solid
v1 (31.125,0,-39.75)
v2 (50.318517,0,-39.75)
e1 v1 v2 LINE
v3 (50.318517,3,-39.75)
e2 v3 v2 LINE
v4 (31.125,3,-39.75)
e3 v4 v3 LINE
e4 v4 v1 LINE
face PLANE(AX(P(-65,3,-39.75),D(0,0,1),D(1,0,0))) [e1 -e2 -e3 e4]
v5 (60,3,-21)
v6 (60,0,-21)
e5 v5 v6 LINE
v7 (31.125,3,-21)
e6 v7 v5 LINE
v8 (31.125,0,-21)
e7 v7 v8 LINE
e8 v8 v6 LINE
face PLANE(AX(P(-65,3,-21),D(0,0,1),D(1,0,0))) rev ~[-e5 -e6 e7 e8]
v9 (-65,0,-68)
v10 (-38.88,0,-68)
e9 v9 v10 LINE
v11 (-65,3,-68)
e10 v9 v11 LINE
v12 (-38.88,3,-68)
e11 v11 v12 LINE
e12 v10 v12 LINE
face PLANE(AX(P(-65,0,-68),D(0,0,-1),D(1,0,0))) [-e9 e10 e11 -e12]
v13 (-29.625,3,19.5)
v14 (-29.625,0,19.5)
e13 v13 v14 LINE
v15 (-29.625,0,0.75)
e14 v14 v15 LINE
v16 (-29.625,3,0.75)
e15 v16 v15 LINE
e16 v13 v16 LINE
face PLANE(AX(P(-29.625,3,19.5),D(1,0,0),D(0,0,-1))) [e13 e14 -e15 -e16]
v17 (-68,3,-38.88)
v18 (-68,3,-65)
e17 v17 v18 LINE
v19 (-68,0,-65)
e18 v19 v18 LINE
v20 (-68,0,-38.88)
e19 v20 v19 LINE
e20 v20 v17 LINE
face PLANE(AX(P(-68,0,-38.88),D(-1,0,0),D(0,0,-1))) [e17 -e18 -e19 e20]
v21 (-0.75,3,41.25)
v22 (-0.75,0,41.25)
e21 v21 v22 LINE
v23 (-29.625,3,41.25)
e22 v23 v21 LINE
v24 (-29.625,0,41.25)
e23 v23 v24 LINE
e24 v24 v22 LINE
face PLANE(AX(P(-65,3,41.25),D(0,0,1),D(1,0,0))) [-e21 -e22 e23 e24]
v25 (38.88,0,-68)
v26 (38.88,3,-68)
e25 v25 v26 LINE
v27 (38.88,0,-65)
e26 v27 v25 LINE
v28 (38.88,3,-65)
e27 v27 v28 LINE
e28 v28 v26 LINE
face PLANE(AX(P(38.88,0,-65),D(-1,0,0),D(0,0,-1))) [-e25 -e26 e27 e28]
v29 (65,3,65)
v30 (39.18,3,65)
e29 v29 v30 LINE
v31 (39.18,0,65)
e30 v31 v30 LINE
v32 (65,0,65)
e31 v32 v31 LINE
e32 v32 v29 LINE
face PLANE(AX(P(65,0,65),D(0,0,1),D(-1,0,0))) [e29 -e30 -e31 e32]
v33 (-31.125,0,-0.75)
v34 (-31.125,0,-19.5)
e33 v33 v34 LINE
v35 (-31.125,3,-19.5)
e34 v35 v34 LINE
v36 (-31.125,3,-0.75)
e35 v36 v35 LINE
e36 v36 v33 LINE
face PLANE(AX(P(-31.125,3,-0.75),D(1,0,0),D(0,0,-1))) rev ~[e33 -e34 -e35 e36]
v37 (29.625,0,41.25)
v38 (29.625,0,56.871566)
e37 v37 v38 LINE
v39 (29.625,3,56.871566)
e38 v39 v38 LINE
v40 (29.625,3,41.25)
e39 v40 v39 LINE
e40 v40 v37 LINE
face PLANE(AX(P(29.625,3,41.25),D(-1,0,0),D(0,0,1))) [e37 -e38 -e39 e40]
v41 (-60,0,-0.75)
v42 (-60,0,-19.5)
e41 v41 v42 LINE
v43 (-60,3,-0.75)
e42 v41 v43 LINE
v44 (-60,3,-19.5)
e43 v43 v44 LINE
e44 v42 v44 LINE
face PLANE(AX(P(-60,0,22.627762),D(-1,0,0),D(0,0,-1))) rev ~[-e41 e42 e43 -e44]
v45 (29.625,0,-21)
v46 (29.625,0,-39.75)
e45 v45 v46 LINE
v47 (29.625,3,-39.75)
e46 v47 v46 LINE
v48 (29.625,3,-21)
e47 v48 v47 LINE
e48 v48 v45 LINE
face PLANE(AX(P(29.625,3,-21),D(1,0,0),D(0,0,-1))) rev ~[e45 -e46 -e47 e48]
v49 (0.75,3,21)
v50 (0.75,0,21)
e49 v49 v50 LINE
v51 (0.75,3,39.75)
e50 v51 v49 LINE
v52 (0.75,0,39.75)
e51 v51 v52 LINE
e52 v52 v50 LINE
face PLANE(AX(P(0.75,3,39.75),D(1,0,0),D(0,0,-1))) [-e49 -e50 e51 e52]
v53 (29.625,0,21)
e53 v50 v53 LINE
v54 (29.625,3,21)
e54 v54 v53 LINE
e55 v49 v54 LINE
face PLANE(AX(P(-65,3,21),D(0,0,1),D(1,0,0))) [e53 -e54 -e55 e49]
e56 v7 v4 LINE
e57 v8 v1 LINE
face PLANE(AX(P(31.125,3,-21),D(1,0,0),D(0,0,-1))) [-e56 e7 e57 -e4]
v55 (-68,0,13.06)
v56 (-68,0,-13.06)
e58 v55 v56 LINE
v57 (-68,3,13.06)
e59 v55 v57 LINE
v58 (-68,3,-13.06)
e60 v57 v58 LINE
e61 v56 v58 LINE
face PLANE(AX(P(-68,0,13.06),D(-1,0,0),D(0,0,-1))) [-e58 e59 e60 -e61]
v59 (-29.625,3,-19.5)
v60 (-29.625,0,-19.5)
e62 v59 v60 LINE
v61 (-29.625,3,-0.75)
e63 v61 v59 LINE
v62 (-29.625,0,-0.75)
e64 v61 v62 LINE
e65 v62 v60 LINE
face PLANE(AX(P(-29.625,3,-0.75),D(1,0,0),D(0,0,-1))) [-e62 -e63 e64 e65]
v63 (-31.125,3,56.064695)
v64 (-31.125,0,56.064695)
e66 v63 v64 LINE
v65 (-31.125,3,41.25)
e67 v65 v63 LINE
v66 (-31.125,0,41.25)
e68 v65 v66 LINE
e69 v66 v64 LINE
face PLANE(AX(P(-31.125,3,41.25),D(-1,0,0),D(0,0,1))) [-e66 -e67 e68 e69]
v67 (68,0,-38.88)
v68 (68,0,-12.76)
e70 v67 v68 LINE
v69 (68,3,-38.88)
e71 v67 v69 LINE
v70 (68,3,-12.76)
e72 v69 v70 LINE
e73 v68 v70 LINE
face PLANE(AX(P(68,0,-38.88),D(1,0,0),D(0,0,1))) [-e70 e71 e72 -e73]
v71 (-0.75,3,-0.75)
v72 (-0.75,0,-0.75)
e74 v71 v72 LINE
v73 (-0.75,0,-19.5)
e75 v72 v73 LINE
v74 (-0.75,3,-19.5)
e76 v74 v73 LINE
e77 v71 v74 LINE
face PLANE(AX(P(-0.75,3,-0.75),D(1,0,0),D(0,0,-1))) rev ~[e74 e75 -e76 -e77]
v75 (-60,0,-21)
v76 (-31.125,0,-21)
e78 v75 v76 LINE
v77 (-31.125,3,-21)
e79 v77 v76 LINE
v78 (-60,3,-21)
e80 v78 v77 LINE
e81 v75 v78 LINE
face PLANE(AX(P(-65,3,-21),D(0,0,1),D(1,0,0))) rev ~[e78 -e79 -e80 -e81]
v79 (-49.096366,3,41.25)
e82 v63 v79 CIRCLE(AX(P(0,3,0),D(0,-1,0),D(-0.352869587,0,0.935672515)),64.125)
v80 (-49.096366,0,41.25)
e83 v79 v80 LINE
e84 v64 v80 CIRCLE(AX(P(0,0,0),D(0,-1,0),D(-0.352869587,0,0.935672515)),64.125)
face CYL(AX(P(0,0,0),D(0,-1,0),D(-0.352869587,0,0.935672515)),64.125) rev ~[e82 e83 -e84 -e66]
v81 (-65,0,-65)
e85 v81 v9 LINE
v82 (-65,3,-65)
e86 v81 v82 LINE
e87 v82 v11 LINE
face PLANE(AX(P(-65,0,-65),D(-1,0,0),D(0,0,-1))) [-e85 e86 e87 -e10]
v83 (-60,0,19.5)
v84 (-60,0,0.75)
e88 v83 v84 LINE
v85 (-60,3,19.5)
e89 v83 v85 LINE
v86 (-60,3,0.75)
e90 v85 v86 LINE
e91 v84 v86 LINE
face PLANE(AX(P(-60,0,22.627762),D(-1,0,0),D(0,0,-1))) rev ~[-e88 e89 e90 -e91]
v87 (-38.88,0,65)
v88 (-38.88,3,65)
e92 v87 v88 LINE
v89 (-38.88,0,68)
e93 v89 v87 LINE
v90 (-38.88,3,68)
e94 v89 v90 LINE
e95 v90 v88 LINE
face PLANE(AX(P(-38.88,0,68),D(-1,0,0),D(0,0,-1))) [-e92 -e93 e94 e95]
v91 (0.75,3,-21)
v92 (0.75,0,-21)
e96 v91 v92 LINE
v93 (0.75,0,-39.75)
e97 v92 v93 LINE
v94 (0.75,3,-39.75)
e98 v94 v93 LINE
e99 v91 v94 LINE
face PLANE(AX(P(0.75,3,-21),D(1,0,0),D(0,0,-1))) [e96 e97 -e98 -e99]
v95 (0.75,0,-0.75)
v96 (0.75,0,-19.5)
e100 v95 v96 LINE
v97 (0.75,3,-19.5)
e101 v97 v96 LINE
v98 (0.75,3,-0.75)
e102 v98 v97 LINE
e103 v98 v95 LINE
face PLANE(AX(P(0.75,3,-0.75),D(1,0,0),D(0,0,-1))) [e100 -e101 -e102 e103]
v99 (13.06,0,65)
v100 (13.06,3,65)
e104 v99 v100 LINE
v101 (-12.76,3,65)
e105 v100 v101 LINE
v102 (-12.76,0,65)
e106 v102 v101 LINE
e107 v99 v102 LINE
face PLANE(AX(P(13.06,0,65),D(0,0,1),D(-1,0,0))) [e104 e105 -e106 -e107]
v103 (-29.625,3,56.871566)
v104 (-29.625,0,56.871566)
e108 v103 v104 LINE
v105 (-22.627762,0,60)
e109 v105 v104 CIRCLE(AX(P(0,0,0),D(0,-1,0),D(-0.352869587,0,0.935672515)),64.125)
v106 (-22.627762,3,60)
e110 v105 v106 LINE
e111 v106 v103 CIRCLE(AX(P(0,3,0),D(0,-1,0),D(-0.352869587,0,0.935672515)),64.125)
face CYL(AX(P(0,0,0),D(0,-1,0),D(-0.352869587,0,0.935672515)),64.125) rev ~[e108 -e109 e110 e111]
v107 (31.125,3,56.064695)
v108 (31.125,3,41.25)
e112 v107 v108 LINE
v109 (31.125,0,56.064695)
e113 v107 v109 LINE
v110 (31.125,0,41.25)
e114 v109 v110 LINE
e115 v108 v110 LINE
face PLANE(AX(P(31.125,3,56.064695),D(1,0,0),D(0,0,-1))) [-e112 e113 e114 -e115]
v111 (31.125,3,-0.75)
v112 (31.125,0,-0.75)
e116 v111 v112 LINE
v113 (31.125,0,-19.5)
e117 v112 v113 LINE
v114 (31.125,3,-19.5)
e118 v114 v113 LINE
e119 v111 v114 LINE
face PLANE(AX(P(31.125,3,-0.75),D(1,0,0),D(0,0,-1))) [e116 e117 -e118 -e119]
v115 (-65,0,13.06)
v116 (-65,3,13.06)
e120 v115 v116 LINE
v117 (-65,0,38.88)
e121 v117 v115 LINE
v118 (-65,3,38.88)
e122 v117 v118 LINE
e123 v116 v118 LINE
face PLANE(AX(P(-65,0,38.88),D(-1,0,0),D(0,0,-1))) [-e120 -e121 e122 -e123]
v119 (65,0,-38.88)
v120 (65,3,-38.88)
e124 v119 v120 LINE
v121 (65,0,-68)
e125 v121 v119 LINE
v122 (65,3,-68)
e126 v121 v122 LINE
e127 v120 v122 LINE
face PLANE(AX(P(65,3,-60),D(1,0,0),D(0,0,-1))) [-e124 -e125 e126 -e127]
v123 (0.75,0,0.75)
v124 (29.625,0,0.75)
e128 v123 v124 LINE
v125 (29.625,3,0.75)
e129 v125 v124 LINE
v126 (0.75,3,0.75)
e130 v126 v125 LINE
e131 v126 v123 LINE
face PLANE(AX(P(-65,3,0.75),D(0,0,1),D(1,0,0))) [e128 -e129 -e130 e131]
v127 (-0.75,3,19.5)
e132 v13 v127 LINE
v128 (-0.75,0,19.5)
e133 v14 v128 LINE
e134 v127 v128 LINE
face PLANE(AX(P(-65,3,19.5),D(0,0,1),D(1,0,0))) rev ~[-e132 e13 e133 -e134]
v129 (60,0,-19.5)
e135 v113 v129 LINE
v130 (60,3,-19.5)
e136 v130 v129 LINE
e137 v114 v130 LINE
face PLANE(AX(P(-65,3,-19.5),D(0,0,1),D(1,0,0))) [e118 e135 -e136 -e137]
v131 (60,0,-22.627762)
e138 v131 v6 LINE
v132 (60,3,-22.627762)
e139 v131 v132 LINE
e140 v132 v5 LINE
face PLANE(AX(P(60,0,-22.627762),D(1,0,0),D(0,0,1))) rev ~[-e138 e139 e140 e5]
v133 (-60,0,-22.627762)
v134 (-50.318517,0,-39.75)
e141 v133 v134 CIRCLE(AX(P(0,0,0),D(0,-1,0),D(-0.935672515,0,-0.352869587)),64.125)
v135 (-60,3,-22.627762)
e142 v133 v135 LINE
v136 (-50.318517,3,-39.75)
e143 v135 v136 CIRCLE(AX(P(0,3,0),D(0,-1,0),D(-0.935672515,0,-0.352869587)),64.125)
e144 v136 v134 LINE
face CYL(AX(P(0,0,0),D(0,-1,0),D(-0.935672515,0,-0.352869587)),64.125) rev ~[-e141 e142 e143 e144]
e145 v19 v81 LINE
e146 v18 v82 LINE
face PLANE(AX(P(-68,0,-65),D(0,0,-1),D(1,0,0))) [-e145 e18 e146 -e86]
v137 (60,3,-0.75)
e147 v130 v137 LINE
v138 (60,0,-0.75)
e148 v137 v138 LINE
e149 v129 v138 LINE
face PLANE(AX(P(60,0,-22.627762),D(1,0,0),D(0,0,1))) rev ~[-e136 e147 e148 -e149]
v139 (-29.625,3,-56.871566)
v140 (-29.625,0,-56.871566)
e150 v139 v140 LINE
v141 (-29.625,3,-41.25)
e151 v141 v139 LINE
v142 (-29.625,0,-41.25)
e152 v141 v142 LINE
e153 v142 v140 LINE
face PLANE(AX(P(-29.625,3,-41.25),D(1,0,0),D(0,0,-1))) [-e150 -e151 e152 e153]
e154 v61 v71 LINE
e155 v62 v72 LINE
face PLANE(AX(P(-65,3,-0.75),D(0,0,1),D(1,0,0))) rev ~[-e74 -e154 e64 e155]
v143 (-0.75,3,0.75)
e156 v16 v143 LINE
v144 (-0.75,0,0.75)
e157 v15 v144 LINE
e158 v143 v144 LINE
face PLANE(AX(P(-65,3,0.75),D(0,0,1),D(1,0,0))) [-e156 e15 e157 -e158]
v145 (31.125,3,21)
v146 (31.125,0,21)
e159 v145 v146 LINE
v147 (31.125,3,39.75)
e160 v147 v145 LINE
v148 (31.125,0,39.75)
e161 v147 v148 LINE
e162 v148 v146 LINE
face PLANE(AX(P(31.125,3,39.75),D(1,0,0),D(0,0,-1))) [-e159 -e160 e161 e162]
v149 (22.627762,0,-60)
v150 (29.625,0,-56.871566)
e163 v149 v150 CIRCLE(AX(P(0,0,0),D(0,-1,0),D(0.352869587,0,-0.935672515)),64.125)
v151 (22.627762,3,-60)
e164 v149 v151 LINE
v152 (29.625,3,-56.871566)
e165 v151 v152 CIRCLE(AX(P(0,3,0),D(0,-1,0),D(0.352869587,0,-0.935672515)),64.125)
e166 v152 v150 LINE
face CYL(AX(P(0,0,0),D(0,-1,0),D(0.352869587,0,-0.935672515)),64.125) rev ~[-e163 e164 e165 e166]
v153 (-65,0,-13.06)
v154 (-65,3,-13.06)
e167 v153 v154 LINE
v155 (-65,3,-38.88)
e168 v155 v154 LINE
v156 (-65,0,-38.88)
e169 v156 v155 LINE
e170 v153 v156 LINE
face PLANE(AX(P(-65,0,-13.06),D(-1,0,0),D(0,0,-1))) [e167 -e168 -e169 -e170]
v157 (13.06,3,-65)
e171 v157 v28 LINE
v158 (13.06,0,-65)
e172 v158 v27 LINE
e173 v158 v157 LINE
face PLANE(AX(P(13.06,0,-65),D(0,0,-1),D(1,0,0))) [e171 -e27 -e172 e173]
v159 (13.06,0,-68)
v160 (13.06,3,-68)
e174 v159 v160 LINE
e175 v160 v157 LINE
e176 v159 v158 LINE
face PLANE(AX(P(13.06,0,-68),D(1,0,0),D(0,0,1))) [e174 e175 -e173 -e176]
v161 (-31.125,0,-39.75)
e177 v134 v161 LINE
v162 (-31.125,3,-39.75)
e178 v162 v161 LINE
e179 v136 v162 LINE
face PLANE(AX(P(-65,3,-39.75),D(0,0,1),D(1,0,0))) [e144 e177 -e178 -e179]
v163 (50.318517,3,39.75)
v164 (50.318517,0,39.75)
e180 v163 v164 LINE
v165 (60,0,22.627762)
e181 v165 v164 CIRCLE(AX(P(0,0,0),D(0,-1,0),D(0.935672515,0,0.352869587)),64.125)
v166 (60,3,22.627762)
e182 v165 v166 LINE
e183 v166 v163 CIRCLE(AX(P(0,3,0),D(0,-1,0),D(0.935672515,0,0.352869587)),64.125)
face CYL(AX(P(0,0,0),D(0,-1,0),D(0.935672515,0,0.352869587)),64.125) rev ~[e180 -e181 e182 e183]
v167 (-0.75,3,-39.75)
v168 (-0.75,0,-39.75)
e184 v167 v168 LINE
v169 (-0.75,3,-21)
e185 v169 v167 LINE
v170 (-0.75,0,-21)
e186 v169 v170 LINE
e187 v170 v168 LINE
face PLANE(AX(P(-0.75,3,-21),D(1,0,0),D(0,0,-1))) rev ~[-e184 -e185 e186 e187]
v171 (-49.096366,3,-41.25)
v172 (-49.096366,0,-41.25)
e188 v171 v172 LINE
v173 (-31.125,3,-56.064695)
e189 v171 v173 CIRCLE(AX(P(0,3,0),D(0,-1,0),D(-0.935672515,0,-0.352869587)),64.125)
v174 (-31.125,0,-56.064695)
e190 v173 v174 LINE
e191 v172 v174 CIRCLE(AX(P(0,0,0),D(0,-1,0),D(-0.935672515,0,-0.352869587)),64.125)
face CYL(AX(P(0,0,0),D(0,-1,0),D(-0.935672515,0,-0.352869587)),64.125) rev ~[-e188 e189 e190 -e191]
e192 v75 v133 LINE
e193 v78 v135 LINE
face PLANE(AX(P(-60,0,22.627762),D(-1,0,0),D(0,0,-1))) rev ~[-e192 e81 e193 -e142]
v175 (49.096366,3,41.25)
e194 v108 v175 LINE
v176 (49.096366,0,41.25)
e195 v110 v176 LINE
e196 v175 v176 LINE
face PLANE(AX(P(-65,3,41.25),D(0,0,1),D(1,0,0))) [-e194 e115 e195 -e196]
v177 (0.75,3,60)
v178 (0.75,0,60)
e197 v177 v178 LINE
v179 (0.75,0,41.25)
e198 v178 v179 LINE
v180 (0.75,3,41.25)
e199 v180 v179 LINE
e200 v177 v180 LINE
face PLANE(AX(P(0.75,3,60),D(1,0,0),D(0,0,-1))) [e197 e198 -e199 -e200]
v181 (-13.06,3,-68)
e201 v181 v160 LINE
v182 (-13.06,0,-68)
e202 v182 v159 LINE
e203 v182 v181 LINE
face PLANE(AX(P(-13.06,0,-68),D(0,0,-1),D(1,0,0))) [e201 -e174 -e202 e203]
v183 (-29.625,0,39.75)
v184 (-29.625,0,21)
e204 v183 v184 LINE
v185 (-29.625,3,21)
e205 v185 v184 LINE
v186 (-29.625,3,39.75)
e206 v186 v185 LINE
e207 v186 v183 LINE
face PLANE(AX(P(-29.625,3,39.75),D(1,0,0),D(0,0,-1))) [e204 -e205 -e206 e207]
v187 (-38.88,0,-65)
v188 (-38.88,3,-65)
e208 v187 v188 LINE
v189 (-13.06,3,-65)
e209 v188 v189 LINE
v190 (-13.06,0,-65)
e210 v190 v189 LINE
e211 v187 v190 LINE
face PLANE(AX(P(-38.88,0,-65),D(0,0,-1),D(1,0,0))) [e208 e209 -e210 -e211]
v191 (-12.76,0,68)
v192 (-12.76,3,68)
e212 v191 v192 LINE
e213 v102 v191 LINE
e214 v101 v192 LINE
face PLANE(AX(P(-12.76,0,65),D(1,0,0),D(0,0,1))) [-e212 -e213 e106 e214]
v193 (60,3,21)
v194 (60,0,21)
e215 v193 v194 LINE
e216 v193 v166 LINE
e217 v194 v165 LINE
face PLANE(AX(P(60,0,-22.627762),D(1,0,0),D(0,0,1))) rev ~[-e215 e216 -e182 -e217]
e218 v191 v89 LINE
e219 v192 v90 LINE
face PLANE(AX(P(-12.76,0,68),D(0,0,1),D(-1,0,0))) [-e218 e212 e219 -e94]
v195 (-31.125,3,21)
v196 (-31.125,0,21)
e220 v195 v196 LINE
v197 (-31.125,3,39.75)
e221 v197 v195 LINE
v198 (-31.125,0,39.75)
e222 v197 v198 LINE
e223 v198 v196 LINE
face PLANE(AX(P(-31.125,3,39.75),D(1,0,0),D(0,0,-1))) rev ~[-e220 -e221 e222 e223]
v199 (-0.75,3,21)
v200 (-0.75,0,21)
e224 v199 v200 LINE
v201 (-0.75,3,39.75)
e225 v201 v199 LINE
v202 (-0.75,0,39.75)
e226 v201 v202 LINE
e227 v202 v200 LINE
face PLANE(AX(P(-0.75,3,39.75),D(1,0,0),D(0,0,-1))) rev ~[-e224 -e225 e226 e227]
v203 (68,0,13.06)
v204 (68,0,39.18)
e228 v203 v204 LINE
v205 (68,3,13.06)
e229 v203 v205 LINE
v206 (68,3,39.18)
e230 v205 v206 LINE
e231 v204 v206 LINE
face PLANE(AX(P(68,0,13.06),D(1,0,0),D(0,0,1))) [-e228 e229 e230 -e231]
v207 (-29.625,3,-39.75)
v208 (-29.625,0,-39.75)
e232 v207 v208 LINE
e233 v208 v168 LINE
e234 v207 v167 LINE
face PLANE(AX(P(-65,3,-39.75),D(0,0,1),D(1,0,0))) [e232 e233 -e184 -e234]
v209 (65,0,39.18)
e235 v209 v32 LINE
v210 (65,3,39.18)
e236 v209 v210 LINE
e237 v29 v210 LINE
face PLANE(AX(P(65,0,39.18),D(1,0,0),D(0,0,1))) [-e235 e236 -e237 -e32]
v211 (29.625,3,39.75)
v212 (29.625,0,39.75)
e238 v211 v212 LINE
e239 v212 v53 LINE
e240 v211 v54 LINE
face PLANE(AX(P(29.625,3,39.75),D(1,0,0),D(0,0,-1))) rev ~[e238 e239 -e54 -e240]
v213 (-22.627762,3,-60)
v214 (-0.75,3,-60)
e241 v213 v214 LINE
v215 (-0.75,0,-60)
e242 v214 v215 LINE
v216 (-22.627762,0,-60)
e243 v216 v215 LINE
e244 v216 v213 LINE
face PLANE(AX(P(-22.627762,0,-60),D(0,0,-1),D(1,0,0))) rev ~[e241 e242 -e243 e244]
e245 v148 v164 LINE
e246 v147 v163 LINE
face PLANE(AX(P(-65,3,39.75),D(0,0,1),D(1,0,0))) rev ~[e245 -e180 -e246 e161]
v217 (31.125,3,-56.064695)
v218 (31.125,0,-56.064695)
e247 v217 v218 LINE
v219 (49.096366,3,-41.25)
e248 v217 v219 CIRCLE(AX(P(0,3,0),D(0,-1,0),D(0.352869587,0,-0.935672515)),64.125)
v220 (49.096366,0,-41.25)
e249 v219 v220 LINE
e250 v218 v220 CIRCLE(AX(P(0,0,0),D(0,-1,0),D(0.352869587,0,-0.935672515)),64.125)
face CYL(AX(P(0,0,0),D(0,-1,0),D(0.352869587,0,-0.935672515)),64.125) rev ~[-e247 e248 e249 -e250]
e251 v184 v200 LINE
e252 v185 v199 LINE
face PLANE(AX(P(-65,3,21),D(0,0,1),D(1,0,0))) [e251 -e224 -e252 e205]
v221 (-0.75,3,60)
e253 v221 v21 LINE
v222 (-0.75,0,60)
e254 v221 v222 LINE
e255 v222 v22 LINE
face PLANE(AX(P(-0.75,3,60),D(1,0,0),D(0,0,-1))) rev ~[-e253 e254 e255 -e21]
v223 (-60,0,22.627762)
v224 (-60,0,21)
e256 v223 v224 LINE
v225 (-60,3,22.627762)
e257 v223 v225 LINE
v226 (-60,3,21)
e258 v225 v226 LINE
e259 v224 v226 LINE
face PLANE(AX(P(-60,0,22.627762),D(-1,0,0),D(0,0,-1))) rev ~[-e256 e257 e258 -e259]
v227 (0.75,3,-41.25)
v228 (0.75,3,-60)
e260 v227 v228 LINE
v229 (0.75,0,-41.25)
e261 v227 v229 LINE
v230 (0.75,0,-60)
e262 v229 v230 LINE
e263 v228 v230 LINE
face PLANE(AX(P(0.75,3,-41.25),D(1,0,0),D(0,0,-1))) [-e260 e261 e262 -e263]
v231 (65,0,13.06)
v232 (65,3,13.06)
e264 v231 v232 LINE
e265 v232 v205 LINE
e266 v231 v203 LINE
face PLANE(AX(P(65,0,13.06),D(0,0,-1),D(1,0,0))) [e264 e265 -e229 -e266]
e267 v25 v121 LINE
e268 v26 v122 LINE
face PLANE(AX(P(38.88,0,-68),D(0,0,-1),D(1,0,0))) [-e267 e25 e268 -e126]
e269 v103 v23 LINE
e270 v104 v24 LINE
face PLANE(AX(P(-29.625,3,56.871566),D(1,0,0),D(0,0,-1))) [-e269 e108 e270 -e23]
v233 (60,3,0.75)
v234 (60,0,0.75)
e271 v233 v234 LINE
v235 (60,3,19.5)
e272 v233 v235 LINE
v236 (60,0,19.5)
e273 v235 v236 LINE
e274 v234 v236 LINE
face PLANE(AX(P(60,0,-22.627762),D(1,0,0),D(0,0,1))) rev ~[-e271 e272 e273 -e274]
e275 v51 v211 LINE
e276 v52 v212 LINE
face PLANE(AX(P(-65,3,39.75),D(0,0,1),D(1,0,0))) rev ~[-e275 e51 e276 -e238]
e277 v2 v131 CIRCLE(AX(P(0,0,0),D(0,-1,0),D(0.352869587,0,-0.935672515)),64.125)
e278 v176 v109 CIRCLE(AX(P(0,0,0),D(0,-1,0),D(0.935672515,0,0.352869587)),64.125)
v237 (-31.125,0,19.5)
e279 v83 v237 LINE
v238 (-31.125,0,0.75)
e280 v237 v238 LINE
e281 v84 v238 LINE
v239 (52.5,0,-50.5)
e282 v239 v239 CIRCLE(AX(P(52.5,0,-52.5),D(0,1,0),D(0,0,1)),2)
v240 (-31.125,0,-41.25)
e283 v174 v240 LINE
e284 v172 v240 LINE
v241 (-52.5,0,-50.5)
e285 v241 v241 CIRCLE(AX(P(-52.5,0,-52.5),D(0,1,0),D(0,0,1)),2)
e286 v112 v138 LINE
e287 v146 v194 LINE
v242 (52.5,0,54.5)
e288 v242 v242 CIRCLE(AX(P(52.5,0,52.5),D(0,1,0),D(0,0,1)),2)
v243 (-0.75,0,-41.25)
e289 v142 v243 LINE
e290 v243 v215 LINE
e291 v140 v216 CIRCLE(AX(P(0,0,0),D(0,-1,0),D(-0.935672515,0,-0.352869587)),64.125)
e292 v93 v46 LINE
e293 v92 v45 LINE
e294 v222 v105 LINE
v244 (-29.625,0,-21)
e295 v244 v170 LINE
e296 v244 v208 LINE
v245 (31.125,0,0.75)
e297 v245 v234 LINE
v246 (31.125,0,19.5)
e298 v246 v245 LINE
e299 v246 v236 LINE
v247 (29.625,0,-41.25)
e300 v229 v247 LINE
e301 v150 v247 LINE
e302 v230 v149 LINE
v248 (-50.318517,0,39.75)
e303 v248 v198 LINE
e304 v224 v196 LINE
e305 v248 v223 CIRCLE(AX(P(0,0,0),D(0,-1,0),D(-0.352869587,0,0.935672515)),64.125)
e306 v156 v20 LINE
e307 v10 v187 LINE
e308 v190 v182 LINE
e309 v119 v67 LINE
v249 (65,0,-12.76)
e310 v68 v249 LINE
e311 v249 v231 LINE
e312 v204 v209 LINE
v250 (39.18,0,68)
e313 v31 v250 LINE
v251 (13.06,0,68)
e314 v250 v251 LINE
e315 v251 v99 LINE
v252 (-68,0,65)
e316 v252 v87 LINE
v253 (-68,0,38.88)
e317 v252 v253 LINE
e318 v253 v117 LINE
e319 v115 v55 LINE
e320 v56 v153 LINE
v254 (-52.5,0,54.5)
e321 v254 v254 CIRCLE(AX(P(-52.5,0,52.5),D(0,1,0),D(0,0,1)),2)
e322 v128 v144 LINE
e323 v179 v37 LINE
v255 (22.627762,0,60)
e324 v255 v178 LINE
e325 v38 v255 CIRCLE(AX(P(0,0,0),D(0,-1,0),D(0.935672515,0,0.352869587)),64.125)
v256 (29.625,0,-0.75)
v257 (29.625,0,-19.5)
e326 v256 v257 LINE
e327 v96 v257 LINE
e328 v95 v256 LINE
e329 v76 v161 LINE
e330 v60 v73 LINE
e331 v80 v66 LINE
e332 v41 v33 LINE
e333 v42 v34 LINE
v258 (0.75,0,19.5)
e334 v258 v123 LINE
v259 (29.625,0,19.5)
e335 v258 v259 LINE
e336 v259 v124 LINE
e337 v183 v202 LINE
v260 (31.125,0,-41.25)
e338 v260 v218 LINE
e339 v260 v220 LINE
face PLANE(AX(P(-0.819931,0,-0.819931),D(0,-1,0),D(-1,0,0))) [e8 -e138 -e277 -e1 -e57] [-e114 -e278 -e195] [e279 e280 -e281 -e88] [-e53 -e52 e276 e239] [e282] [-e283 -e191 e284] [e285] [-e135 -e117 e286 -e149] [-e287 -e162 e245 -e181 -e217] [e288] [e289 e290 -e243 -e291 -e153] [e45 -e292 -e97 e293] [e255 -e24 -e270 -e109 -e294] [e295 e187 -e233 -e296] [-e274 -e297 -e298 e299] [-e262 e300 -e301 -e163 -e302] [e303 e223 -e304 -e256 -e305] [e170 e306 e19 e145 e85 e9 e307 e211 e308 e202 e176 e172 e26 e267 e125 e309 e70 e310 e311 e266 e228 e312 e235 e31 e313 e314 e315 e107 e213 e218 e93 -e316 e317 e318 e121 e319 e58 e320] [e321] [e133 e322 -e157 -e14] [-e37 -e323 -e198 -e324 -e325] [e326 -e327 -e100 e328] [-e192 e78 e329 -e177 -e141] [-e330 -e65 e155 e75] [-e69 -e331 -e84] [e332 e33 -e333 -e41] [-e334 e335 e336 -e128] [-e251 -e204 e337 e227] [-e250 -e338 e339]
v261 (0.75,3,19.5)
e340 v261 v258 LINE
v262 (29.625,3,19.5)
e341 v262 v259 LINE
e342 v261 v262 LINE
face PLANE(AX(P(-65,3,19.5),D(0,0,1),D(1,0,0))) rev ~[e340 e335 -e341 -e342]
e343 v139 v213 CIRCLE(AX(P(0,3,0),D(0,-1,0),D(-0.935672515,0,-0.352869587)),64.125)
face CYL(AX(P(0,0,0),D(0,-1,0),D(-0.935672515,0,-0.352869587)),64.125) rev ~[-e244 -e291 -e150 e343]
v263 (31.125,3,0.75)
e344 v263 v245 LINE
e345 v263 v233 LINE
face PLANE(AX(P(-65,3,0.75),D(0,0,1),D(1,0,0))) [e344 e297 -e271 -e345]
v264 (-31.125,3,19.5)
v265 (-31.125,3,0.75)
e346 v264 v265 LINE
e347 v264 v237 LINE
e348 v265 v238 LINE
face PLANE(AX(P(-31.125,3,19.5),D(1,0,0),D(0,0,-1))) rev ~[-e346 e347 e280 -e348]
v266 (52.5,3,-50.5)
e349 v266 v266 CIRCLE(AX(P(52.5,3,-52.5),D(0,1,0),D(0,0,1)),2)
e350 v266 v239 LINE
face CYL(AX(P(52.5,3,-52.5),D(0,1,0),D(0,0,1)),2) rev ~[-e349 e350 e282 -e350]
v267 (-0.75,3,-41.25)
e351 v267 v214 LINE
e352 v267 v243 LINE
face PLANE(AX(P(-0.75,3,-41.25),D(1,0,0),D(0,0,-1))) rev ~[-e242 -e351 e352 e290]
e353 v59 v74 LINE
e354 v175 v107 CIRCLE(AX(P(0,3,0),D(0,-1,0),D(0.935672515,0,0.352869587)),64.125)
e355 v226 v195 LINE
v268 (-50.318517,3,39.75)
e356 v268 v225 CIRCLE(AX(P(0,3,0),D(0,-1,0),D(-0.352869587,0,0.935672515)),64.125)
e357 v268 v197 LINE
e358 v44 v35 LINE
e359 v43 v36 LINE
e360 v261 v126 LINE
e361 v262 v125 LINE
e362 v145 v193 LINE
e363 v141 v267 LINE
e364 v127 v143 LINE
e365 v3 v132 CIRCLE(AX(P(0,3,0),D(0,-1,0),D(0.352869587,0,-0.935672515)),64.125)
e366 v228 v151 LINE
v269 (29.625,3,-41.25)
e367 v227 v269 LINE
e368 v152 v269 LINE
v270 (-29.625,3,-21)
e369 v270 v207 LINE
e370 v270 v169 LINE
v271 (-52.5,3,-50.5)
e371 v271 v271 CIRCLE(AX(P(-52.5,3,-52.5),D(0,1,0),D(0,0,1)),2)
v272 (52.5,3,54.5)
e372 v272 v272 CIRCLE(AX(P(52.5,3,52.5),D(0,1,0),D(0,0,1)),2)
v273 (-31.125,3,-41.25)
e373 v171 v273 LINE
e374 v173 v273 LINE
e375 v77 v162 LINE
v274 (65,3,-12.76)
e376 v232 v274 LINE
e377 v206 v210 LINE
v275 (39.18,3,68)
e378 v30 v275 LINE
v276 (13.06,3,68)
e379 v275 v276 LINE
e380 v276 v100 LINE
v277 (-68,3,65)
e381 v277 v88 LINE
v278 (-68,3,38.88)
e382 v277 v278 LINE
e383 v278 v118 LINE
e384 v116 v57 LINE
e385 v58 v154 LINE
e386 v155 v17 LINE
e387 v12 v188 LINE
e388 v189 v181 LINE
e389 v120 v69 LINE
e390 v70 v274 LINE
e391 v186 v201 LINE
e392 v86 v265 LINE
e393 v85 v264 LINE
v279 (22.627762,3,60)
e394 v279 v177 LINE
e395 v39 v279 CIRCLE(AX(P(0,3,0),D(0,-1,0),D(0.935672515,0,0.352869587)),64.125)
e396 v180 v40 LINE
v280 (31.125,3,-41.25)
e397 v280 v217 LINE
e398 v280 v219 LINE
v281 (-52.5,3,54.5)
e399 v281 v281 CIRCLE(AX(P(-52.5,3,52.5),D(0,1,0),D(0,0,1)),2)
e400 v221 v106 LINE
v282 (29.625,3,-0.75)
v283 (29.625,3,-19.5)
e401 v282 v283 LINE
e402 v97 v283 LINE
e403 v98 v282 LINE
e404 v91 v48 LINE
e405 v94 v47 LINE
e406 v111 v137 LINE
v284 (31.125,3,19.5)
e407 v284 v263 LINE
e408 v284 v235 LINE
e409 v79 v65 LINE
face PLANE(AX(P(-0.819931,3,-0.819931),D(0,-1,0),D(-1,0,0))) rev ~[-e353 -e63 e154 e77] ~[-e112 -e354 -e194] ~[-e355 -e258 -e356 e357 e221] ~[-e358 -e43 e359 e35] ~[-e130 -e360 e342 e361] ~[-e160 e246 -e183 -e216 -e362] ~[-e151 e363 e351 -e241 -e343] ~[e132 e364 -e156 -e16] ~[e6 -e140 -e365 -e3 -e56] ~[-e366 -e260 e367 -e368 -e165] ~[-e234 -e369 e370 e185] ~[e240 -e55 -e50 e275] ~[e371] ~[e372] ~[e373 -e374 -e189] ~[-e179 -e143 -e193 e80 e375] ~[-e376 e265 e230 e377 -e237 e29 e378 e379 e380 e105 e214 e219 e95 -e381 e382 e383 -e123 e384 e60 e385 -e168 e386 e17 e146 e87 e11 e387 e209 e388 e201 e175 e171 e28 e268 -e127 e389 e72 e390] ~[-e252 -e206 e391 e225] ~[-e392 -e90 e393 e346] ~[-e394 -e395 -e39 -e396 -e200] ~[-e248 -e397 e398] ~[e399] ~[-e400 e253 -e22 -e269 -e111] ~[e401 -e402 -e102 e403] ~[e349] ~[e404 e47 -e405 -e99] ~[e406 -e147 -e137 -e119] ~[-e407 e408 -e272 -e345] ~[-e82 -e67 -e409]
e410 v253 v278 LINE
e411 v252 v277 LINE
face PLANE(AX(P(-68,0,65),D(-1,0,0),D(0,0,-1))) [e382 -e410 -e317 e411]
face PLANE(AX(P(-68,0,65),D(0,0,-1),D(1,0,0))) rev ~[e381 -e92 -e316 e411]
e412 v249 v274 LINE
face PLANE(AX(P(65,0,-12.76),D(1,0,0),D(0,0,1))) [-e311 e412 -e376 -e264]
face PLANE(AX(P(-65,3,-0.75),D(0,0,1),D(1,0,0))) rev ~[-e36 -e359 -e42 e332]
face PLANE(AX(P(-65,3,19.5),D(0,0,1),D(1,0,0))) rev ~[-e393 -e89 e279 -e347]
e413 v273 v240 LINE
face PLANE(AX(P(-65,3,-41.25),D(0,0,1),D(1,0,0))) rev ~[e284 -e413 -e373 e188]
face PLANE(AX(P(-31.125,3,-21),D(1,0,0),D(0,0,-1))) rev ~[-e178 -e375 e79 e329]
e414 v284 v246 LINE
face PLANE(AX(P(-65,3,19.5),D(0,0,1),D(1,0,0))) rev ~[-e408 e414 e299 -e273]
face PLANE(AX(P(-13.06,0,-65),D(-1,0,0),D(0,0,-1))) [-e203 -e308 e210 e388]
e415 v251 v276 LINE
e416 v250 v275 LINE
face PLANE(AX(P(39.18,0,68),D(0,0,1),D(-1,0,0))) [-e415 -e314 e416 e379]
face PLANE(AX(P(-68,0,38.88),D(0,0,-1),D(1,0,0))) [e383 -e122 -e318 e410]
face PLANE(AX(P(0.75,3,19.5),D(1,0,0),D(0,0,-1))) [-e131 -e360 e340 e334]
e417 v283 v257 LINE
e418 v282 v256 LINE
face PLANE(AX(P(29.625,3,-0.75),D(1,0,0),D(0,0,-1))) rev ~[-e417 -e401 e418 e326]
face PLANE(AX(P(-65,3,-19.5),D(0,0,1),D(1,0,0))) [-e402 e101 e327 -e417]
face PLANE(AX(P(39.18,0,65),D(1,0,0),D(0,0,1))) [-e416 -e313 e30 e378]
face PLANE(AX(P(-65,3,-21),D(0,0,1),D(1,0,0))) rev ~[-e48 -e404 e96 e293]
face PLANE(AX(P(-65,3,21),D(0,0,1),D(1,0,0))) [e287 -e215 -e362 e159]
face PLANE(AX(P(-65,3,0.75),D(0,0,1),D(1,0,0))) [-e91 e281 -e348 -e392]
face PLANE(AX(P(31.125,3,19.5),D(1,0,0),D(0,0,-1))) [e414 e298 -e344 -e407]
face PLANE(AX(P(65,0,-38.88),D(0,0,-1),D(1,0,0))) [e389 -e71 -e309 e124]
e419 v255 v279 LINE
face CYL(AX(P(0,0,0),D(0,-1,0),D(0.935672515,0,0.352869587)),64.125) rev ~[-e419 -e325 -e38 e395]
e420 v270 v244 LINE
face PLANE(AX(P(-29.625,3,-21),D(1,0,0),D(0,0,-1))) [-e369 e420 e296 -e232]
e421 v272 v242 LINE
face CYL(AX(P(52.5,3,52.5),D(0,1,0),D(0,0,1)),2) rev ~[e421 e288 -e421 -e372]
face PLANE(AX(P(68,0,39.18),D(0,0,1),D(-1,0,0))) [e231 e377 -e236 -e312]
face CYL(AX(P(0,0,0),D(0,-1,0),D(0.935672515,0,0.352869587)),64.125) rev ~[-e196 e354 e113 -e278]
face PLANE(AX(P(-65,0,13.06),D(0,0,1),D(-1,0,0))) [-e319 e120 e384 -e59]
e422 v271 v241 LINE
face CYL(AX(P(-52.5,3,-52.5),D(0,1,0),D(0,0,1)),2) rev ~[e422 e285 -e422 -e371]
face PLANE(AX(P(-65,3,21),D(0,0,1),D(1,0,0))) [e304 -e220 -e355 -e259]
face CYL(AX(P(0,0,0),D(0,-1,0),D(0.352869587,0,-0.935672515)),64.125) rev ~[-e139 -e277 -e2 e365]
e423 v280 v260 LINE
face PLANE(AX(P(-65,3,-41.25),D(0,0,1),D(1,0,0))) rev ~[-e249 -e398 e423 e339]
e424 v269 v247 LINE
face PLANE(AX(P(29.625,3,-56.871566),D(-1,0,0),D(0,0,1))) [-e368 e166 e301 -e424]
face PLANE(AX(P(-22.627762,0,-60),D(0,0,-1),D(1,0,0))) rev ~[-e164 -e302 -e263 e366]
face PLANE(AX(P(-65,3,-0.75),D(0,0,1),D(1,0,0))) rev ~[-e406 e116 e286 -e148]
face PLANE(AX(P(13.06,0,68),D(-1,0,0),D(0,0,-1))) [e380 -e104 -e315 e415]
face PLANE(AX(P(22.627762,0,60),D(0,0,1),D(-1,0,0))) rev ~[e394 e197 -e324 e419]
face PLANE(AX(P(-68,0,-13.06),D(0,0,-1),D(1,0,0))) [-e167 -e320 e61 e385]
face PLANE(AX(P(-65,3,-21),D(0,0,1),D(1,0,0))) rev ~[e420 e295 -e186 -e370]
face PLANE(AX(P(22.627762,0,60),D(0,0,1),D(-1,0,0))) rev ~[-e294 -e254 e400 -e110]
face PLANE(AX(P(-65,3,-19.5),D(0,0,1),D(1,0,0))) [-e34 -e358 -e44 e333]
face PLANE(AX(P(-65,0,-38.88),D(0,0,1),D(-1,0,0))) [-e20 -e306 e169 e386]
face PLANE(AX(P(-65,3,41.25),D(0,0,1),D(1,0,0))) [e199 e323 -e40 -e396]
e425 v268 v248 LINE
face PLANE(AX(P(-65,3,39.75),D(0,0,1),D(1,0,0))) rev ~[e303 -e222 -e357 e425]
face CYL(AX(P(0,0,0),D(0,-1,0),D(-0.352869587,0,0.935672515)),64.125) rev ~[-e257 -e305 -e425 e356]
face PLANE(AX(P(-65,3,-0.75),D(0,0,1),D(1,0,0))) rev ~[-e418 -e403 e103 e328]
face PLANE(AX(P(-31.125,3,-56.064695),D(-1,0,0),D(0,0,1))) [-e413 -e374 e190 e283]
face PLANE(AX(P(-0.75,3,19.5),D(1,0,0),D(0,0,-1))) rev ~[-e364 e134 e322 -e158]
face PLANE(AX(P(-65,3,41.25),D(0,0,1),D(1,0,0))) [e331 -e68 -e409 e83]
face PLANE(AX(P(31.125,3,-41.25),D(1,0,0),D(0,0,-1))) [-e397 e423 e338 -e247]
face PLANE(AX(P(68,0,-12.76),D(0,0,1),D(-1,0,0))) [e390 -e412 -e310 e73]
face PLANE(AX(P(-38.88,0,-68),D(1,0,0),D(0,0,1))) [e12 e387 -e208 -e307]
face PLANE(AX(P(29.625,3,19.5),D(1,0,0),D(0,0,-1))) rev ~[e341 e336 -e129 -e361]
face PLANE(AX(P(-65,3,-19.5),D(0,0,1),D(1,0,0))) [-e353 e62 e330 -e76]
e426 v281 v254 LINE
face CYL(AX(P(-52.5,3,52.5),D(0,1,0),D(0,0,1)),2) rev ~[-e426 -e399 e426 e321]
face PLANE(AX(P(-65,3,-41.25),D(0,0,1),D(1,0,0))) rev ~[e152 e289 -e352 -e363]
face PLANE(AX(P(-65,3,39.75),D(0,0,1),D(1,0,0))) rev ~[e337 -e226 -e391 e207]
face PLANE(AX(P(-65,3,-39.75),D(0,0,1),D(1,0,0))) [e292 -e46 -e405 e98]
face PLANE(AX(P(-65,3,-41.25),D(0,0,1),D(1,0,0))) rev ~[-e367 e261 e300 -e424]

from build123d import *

# Parameters (mm, degrees)
BOSS_EXTRUDE1_DEPTH = 3
SKETCH2_W           = 130
SKETCH2_H           = 1.5
BOSS_EXTRUDE2_DEPTH = 3
SKETCH3_W           = 1.5
SKETCH3_H           = 18.75
BOSS_EXTRUDE3_DEPTH = 3
SKETCH4_R           = 2
CUT_EXTRUDE1_DEPTH  = 97.213304693


with BuildPart() as part:
    # Sketch1 → Boss-Extrude1 (new body)
    with BuildSketch(Plane(origin=(0, 0, 0), x_dir=(1, 0, 0), z_dir=(0, 1, 0))):
        Polygon((65, 38.88), (68, 38.88), (68, 12.76), (65, 12.76), (65, -13.06), (68, -13.06), (68, -39.18), (65, -39.18), (65, -65), (39.18, -65), (39.18, -68), (13.06, -68), (13.06, -65), (-12.76, -65), (-12.76, -68), (-38.88, -68), (-38.88, -65), (-64.7, -65), (-68, -65), (-68, -38.88), (-65, -38.88), (-65, -13.06), (-68, -13.06), (-68, 13.06), (-65, 13.06), (-65, 38.88), (-68, 38.88), (-68, 65), (-65, 65), (-65, 68), (-38.88, 68), (-38.88, 65), (-13.06, 65), (-13.06, 68), (13.06, 68), (13.06, 65), (38.88, 65), (38.88, 68), (65, 68), (65, 64.7), align=None)
        with BuildLine():
            Line((22.627762262, -60), (-22.627762262, -60))
            ThreePointArc((-22.627762262, -60), (-45.343222344, -45.343222344), (-60, -22.627762262))
            Line((-60, -22.627762262), (-60, 22.627762262))
            ThreePointArc((-60, 22.627762262), (-45.343222344, 45.343222344), (-22.627762262, 60))
            Line((-22.627762262, 60), (22.627762262, 60))
            ThreePointArc((22.627762262, 60), (45.343222344, 45.343222344), (60, 22.627762262))
            Line((60, 22.627762262), (60, -22.627762262))
            ThreePointArc((60, -22.627762262), (45.343222344, -45.343222344), (22.627762262, -60))
        make_face(mode=Mode.SUBTRACT)
    extrude(amount=BOSS_EXTRUDE1_DEPTH)

    # Sketch2 → Boss-Extrude2 (add, through all)
    with BuildSketch(Plane(origin=(0, 3, 0), x_dir=(1, 0, 0), z_dir=(0, 1, 0))):
        with Locations((0, 60.75)):
            Rectangle(SKETCH2_W, SKETCH2_H)
        with Locations((0, 40.5)):
            Rectangle(SKETCH2_W, SKETCH2_H)
        with Locations((0, 20.25)):
            Rectangle(SKETCH2_W, SKETCH2_H)
        Rectangle(SKETCH2_W, SKETCH2_H)
        with Locations((0, -20.25)):
            Rectangle(SKETCH2_W, SKETCH2_H)
        with Locations((0, -40.5)):
            Rectangle(SKETCH2_W, SKETCH2_H)
        with Locations((0, -60.75)):
            Rectangle(SKETCH2_W, SKETCH2_H)
    extrude(amount=-BOSS_EXTRUDE2_DEPTH)

    # Sketch3 → Boss-Extrude3 (add, through all)
    with BuildSketch(Plane(origin=(0, 3, 0), x_dir=(1, 0, 0), z_dir=(0, 1, 0))):
        with Locations((-30.375, -30.375)):
            Rectangle(SKETCH3_W, SKETCH3_H)
        with Locations((-30.375, -10.125)):
            Rectangle(SKETCH3_W, SKETCH3_H)
        with BuildLine():
            Line((-29.625, -41.25), (-31.125, -41.25))
            Line((-31.125, -41.25), (-31.125, -56.064694773))
            ThreePointArc((-31.125, -56.064694773), (-30.377679063, -56.473110768), (-29.625, -56.87156583))
            Line((-29.625, -56.87156583), (-29.625, -41.25))
        make_face()
        with Locations((0, -30.375)):
            Rectangle(SKETCH3_W, SKETCH3_H)
        with Locations((-30.375, 30.375)):
            Rectangle(SKETCH3_W, SKETCH3_H)
        with Locations((-30.375, 10.125)):
            Rectangle(SKETCH3_W, SKETCH3_H)
        with Locations((0, -10.125)):
            Rectangle(SKETCH3_W, SKETCH3_H)
        with Locations((0, -50.625)):
            Rectangle(SKETCH3_W, SKETCH3_H)
        with BuildLine():
            Line((-31.125, 56.064694773), (-31.125, 41.25))
            Line((-31.125, 41.25), (-29.625, 41.25))
            Line((-29.625, 41.25), (-29.625, 56.87156583))
            ThreePointArc((-29.625, 56.87156583), (-30.377679063, 56.473110768), (-31.125, 56.064694773))
        make_face()
        with Locations((30.375, -30.375)):
            Rectangle(SKETCH3_W, SKETCH3_H)
        with Locations((0, 30.375)):
            Rectangle(SKETCH3_W, SKETCH3_H)
        with Locations((0, 10.125)):
            Rectangle(SKETCH3_W, SKETCH3_H)
        with Locations((30.375, -10.125)):
            Rectangle(SKETCH3_W, SKETCH3_H)
        with BuildLine():
            Line((31.125, -41.25), (29.625, -41.25))
            Line((29.625, -41.25), (29.625, -56.87156583))
            ThreePointArc((29.625, -56.87156583), (30.377679063, -56.473110768), (31.125, -56.064694773))
            Line((31.125, -56.064694773), (31.125, -41.25))
        make_face()
        with Locations((0, 50.625)):
            Rectangle(SKETCH3_W, SKETCH3_H)
        with Locations((30.375, 30.375)):
            Rectangle(SKETCH3_W, SKETCH3_H)
        with Locations((30.375, 10.125)):
            Rectangle(SKETCH3_W, SKETCH3_H)
        with BuildLine():
            Line((29.625, 56.87156583), (29.625, 41.25))
            Line((29.625, 41.25), (31.125, 41.25))
            Line((31.125, 41.25), (31.125, 56.064694773))
            ThreePointArc((31.125, 56.064694773), (30.377679063, 56.473110768), (29.625, 56.87156583))
        make_face()
    extrude(amount=-BOSS_EXTRUDE3_DEPTH)

    # Sketch4 → Cut-Extrude1 (cut, through all)
    with BuildSketch(Plane(origin=(0, 3, 0), x_dir=(1, 0, 0), z_dir=(0, 1, 0))):
        with Locations(Location((-52.5, 52.5, 0), (0, 0, 270))):
            Circle(SKETCH4_R)
        with Locations(Location((52.5, 52.5, 0), (0, 0, 270))):
            Circle(SKETCH4_R)
        with Locations(Location((52.5, -52.5, 0), (0, 0, 270))):
            Circle(SKETCH4_R)
        with Locations(Location((-52.5, -52.5, 0), (0, 0, 270))):
            Circle(SKETCH4_R)
    extrude(amount=-CUT_EXTRUDE1_DEPTH, mode=Mode.SUBTRACT)


solid = part.part
